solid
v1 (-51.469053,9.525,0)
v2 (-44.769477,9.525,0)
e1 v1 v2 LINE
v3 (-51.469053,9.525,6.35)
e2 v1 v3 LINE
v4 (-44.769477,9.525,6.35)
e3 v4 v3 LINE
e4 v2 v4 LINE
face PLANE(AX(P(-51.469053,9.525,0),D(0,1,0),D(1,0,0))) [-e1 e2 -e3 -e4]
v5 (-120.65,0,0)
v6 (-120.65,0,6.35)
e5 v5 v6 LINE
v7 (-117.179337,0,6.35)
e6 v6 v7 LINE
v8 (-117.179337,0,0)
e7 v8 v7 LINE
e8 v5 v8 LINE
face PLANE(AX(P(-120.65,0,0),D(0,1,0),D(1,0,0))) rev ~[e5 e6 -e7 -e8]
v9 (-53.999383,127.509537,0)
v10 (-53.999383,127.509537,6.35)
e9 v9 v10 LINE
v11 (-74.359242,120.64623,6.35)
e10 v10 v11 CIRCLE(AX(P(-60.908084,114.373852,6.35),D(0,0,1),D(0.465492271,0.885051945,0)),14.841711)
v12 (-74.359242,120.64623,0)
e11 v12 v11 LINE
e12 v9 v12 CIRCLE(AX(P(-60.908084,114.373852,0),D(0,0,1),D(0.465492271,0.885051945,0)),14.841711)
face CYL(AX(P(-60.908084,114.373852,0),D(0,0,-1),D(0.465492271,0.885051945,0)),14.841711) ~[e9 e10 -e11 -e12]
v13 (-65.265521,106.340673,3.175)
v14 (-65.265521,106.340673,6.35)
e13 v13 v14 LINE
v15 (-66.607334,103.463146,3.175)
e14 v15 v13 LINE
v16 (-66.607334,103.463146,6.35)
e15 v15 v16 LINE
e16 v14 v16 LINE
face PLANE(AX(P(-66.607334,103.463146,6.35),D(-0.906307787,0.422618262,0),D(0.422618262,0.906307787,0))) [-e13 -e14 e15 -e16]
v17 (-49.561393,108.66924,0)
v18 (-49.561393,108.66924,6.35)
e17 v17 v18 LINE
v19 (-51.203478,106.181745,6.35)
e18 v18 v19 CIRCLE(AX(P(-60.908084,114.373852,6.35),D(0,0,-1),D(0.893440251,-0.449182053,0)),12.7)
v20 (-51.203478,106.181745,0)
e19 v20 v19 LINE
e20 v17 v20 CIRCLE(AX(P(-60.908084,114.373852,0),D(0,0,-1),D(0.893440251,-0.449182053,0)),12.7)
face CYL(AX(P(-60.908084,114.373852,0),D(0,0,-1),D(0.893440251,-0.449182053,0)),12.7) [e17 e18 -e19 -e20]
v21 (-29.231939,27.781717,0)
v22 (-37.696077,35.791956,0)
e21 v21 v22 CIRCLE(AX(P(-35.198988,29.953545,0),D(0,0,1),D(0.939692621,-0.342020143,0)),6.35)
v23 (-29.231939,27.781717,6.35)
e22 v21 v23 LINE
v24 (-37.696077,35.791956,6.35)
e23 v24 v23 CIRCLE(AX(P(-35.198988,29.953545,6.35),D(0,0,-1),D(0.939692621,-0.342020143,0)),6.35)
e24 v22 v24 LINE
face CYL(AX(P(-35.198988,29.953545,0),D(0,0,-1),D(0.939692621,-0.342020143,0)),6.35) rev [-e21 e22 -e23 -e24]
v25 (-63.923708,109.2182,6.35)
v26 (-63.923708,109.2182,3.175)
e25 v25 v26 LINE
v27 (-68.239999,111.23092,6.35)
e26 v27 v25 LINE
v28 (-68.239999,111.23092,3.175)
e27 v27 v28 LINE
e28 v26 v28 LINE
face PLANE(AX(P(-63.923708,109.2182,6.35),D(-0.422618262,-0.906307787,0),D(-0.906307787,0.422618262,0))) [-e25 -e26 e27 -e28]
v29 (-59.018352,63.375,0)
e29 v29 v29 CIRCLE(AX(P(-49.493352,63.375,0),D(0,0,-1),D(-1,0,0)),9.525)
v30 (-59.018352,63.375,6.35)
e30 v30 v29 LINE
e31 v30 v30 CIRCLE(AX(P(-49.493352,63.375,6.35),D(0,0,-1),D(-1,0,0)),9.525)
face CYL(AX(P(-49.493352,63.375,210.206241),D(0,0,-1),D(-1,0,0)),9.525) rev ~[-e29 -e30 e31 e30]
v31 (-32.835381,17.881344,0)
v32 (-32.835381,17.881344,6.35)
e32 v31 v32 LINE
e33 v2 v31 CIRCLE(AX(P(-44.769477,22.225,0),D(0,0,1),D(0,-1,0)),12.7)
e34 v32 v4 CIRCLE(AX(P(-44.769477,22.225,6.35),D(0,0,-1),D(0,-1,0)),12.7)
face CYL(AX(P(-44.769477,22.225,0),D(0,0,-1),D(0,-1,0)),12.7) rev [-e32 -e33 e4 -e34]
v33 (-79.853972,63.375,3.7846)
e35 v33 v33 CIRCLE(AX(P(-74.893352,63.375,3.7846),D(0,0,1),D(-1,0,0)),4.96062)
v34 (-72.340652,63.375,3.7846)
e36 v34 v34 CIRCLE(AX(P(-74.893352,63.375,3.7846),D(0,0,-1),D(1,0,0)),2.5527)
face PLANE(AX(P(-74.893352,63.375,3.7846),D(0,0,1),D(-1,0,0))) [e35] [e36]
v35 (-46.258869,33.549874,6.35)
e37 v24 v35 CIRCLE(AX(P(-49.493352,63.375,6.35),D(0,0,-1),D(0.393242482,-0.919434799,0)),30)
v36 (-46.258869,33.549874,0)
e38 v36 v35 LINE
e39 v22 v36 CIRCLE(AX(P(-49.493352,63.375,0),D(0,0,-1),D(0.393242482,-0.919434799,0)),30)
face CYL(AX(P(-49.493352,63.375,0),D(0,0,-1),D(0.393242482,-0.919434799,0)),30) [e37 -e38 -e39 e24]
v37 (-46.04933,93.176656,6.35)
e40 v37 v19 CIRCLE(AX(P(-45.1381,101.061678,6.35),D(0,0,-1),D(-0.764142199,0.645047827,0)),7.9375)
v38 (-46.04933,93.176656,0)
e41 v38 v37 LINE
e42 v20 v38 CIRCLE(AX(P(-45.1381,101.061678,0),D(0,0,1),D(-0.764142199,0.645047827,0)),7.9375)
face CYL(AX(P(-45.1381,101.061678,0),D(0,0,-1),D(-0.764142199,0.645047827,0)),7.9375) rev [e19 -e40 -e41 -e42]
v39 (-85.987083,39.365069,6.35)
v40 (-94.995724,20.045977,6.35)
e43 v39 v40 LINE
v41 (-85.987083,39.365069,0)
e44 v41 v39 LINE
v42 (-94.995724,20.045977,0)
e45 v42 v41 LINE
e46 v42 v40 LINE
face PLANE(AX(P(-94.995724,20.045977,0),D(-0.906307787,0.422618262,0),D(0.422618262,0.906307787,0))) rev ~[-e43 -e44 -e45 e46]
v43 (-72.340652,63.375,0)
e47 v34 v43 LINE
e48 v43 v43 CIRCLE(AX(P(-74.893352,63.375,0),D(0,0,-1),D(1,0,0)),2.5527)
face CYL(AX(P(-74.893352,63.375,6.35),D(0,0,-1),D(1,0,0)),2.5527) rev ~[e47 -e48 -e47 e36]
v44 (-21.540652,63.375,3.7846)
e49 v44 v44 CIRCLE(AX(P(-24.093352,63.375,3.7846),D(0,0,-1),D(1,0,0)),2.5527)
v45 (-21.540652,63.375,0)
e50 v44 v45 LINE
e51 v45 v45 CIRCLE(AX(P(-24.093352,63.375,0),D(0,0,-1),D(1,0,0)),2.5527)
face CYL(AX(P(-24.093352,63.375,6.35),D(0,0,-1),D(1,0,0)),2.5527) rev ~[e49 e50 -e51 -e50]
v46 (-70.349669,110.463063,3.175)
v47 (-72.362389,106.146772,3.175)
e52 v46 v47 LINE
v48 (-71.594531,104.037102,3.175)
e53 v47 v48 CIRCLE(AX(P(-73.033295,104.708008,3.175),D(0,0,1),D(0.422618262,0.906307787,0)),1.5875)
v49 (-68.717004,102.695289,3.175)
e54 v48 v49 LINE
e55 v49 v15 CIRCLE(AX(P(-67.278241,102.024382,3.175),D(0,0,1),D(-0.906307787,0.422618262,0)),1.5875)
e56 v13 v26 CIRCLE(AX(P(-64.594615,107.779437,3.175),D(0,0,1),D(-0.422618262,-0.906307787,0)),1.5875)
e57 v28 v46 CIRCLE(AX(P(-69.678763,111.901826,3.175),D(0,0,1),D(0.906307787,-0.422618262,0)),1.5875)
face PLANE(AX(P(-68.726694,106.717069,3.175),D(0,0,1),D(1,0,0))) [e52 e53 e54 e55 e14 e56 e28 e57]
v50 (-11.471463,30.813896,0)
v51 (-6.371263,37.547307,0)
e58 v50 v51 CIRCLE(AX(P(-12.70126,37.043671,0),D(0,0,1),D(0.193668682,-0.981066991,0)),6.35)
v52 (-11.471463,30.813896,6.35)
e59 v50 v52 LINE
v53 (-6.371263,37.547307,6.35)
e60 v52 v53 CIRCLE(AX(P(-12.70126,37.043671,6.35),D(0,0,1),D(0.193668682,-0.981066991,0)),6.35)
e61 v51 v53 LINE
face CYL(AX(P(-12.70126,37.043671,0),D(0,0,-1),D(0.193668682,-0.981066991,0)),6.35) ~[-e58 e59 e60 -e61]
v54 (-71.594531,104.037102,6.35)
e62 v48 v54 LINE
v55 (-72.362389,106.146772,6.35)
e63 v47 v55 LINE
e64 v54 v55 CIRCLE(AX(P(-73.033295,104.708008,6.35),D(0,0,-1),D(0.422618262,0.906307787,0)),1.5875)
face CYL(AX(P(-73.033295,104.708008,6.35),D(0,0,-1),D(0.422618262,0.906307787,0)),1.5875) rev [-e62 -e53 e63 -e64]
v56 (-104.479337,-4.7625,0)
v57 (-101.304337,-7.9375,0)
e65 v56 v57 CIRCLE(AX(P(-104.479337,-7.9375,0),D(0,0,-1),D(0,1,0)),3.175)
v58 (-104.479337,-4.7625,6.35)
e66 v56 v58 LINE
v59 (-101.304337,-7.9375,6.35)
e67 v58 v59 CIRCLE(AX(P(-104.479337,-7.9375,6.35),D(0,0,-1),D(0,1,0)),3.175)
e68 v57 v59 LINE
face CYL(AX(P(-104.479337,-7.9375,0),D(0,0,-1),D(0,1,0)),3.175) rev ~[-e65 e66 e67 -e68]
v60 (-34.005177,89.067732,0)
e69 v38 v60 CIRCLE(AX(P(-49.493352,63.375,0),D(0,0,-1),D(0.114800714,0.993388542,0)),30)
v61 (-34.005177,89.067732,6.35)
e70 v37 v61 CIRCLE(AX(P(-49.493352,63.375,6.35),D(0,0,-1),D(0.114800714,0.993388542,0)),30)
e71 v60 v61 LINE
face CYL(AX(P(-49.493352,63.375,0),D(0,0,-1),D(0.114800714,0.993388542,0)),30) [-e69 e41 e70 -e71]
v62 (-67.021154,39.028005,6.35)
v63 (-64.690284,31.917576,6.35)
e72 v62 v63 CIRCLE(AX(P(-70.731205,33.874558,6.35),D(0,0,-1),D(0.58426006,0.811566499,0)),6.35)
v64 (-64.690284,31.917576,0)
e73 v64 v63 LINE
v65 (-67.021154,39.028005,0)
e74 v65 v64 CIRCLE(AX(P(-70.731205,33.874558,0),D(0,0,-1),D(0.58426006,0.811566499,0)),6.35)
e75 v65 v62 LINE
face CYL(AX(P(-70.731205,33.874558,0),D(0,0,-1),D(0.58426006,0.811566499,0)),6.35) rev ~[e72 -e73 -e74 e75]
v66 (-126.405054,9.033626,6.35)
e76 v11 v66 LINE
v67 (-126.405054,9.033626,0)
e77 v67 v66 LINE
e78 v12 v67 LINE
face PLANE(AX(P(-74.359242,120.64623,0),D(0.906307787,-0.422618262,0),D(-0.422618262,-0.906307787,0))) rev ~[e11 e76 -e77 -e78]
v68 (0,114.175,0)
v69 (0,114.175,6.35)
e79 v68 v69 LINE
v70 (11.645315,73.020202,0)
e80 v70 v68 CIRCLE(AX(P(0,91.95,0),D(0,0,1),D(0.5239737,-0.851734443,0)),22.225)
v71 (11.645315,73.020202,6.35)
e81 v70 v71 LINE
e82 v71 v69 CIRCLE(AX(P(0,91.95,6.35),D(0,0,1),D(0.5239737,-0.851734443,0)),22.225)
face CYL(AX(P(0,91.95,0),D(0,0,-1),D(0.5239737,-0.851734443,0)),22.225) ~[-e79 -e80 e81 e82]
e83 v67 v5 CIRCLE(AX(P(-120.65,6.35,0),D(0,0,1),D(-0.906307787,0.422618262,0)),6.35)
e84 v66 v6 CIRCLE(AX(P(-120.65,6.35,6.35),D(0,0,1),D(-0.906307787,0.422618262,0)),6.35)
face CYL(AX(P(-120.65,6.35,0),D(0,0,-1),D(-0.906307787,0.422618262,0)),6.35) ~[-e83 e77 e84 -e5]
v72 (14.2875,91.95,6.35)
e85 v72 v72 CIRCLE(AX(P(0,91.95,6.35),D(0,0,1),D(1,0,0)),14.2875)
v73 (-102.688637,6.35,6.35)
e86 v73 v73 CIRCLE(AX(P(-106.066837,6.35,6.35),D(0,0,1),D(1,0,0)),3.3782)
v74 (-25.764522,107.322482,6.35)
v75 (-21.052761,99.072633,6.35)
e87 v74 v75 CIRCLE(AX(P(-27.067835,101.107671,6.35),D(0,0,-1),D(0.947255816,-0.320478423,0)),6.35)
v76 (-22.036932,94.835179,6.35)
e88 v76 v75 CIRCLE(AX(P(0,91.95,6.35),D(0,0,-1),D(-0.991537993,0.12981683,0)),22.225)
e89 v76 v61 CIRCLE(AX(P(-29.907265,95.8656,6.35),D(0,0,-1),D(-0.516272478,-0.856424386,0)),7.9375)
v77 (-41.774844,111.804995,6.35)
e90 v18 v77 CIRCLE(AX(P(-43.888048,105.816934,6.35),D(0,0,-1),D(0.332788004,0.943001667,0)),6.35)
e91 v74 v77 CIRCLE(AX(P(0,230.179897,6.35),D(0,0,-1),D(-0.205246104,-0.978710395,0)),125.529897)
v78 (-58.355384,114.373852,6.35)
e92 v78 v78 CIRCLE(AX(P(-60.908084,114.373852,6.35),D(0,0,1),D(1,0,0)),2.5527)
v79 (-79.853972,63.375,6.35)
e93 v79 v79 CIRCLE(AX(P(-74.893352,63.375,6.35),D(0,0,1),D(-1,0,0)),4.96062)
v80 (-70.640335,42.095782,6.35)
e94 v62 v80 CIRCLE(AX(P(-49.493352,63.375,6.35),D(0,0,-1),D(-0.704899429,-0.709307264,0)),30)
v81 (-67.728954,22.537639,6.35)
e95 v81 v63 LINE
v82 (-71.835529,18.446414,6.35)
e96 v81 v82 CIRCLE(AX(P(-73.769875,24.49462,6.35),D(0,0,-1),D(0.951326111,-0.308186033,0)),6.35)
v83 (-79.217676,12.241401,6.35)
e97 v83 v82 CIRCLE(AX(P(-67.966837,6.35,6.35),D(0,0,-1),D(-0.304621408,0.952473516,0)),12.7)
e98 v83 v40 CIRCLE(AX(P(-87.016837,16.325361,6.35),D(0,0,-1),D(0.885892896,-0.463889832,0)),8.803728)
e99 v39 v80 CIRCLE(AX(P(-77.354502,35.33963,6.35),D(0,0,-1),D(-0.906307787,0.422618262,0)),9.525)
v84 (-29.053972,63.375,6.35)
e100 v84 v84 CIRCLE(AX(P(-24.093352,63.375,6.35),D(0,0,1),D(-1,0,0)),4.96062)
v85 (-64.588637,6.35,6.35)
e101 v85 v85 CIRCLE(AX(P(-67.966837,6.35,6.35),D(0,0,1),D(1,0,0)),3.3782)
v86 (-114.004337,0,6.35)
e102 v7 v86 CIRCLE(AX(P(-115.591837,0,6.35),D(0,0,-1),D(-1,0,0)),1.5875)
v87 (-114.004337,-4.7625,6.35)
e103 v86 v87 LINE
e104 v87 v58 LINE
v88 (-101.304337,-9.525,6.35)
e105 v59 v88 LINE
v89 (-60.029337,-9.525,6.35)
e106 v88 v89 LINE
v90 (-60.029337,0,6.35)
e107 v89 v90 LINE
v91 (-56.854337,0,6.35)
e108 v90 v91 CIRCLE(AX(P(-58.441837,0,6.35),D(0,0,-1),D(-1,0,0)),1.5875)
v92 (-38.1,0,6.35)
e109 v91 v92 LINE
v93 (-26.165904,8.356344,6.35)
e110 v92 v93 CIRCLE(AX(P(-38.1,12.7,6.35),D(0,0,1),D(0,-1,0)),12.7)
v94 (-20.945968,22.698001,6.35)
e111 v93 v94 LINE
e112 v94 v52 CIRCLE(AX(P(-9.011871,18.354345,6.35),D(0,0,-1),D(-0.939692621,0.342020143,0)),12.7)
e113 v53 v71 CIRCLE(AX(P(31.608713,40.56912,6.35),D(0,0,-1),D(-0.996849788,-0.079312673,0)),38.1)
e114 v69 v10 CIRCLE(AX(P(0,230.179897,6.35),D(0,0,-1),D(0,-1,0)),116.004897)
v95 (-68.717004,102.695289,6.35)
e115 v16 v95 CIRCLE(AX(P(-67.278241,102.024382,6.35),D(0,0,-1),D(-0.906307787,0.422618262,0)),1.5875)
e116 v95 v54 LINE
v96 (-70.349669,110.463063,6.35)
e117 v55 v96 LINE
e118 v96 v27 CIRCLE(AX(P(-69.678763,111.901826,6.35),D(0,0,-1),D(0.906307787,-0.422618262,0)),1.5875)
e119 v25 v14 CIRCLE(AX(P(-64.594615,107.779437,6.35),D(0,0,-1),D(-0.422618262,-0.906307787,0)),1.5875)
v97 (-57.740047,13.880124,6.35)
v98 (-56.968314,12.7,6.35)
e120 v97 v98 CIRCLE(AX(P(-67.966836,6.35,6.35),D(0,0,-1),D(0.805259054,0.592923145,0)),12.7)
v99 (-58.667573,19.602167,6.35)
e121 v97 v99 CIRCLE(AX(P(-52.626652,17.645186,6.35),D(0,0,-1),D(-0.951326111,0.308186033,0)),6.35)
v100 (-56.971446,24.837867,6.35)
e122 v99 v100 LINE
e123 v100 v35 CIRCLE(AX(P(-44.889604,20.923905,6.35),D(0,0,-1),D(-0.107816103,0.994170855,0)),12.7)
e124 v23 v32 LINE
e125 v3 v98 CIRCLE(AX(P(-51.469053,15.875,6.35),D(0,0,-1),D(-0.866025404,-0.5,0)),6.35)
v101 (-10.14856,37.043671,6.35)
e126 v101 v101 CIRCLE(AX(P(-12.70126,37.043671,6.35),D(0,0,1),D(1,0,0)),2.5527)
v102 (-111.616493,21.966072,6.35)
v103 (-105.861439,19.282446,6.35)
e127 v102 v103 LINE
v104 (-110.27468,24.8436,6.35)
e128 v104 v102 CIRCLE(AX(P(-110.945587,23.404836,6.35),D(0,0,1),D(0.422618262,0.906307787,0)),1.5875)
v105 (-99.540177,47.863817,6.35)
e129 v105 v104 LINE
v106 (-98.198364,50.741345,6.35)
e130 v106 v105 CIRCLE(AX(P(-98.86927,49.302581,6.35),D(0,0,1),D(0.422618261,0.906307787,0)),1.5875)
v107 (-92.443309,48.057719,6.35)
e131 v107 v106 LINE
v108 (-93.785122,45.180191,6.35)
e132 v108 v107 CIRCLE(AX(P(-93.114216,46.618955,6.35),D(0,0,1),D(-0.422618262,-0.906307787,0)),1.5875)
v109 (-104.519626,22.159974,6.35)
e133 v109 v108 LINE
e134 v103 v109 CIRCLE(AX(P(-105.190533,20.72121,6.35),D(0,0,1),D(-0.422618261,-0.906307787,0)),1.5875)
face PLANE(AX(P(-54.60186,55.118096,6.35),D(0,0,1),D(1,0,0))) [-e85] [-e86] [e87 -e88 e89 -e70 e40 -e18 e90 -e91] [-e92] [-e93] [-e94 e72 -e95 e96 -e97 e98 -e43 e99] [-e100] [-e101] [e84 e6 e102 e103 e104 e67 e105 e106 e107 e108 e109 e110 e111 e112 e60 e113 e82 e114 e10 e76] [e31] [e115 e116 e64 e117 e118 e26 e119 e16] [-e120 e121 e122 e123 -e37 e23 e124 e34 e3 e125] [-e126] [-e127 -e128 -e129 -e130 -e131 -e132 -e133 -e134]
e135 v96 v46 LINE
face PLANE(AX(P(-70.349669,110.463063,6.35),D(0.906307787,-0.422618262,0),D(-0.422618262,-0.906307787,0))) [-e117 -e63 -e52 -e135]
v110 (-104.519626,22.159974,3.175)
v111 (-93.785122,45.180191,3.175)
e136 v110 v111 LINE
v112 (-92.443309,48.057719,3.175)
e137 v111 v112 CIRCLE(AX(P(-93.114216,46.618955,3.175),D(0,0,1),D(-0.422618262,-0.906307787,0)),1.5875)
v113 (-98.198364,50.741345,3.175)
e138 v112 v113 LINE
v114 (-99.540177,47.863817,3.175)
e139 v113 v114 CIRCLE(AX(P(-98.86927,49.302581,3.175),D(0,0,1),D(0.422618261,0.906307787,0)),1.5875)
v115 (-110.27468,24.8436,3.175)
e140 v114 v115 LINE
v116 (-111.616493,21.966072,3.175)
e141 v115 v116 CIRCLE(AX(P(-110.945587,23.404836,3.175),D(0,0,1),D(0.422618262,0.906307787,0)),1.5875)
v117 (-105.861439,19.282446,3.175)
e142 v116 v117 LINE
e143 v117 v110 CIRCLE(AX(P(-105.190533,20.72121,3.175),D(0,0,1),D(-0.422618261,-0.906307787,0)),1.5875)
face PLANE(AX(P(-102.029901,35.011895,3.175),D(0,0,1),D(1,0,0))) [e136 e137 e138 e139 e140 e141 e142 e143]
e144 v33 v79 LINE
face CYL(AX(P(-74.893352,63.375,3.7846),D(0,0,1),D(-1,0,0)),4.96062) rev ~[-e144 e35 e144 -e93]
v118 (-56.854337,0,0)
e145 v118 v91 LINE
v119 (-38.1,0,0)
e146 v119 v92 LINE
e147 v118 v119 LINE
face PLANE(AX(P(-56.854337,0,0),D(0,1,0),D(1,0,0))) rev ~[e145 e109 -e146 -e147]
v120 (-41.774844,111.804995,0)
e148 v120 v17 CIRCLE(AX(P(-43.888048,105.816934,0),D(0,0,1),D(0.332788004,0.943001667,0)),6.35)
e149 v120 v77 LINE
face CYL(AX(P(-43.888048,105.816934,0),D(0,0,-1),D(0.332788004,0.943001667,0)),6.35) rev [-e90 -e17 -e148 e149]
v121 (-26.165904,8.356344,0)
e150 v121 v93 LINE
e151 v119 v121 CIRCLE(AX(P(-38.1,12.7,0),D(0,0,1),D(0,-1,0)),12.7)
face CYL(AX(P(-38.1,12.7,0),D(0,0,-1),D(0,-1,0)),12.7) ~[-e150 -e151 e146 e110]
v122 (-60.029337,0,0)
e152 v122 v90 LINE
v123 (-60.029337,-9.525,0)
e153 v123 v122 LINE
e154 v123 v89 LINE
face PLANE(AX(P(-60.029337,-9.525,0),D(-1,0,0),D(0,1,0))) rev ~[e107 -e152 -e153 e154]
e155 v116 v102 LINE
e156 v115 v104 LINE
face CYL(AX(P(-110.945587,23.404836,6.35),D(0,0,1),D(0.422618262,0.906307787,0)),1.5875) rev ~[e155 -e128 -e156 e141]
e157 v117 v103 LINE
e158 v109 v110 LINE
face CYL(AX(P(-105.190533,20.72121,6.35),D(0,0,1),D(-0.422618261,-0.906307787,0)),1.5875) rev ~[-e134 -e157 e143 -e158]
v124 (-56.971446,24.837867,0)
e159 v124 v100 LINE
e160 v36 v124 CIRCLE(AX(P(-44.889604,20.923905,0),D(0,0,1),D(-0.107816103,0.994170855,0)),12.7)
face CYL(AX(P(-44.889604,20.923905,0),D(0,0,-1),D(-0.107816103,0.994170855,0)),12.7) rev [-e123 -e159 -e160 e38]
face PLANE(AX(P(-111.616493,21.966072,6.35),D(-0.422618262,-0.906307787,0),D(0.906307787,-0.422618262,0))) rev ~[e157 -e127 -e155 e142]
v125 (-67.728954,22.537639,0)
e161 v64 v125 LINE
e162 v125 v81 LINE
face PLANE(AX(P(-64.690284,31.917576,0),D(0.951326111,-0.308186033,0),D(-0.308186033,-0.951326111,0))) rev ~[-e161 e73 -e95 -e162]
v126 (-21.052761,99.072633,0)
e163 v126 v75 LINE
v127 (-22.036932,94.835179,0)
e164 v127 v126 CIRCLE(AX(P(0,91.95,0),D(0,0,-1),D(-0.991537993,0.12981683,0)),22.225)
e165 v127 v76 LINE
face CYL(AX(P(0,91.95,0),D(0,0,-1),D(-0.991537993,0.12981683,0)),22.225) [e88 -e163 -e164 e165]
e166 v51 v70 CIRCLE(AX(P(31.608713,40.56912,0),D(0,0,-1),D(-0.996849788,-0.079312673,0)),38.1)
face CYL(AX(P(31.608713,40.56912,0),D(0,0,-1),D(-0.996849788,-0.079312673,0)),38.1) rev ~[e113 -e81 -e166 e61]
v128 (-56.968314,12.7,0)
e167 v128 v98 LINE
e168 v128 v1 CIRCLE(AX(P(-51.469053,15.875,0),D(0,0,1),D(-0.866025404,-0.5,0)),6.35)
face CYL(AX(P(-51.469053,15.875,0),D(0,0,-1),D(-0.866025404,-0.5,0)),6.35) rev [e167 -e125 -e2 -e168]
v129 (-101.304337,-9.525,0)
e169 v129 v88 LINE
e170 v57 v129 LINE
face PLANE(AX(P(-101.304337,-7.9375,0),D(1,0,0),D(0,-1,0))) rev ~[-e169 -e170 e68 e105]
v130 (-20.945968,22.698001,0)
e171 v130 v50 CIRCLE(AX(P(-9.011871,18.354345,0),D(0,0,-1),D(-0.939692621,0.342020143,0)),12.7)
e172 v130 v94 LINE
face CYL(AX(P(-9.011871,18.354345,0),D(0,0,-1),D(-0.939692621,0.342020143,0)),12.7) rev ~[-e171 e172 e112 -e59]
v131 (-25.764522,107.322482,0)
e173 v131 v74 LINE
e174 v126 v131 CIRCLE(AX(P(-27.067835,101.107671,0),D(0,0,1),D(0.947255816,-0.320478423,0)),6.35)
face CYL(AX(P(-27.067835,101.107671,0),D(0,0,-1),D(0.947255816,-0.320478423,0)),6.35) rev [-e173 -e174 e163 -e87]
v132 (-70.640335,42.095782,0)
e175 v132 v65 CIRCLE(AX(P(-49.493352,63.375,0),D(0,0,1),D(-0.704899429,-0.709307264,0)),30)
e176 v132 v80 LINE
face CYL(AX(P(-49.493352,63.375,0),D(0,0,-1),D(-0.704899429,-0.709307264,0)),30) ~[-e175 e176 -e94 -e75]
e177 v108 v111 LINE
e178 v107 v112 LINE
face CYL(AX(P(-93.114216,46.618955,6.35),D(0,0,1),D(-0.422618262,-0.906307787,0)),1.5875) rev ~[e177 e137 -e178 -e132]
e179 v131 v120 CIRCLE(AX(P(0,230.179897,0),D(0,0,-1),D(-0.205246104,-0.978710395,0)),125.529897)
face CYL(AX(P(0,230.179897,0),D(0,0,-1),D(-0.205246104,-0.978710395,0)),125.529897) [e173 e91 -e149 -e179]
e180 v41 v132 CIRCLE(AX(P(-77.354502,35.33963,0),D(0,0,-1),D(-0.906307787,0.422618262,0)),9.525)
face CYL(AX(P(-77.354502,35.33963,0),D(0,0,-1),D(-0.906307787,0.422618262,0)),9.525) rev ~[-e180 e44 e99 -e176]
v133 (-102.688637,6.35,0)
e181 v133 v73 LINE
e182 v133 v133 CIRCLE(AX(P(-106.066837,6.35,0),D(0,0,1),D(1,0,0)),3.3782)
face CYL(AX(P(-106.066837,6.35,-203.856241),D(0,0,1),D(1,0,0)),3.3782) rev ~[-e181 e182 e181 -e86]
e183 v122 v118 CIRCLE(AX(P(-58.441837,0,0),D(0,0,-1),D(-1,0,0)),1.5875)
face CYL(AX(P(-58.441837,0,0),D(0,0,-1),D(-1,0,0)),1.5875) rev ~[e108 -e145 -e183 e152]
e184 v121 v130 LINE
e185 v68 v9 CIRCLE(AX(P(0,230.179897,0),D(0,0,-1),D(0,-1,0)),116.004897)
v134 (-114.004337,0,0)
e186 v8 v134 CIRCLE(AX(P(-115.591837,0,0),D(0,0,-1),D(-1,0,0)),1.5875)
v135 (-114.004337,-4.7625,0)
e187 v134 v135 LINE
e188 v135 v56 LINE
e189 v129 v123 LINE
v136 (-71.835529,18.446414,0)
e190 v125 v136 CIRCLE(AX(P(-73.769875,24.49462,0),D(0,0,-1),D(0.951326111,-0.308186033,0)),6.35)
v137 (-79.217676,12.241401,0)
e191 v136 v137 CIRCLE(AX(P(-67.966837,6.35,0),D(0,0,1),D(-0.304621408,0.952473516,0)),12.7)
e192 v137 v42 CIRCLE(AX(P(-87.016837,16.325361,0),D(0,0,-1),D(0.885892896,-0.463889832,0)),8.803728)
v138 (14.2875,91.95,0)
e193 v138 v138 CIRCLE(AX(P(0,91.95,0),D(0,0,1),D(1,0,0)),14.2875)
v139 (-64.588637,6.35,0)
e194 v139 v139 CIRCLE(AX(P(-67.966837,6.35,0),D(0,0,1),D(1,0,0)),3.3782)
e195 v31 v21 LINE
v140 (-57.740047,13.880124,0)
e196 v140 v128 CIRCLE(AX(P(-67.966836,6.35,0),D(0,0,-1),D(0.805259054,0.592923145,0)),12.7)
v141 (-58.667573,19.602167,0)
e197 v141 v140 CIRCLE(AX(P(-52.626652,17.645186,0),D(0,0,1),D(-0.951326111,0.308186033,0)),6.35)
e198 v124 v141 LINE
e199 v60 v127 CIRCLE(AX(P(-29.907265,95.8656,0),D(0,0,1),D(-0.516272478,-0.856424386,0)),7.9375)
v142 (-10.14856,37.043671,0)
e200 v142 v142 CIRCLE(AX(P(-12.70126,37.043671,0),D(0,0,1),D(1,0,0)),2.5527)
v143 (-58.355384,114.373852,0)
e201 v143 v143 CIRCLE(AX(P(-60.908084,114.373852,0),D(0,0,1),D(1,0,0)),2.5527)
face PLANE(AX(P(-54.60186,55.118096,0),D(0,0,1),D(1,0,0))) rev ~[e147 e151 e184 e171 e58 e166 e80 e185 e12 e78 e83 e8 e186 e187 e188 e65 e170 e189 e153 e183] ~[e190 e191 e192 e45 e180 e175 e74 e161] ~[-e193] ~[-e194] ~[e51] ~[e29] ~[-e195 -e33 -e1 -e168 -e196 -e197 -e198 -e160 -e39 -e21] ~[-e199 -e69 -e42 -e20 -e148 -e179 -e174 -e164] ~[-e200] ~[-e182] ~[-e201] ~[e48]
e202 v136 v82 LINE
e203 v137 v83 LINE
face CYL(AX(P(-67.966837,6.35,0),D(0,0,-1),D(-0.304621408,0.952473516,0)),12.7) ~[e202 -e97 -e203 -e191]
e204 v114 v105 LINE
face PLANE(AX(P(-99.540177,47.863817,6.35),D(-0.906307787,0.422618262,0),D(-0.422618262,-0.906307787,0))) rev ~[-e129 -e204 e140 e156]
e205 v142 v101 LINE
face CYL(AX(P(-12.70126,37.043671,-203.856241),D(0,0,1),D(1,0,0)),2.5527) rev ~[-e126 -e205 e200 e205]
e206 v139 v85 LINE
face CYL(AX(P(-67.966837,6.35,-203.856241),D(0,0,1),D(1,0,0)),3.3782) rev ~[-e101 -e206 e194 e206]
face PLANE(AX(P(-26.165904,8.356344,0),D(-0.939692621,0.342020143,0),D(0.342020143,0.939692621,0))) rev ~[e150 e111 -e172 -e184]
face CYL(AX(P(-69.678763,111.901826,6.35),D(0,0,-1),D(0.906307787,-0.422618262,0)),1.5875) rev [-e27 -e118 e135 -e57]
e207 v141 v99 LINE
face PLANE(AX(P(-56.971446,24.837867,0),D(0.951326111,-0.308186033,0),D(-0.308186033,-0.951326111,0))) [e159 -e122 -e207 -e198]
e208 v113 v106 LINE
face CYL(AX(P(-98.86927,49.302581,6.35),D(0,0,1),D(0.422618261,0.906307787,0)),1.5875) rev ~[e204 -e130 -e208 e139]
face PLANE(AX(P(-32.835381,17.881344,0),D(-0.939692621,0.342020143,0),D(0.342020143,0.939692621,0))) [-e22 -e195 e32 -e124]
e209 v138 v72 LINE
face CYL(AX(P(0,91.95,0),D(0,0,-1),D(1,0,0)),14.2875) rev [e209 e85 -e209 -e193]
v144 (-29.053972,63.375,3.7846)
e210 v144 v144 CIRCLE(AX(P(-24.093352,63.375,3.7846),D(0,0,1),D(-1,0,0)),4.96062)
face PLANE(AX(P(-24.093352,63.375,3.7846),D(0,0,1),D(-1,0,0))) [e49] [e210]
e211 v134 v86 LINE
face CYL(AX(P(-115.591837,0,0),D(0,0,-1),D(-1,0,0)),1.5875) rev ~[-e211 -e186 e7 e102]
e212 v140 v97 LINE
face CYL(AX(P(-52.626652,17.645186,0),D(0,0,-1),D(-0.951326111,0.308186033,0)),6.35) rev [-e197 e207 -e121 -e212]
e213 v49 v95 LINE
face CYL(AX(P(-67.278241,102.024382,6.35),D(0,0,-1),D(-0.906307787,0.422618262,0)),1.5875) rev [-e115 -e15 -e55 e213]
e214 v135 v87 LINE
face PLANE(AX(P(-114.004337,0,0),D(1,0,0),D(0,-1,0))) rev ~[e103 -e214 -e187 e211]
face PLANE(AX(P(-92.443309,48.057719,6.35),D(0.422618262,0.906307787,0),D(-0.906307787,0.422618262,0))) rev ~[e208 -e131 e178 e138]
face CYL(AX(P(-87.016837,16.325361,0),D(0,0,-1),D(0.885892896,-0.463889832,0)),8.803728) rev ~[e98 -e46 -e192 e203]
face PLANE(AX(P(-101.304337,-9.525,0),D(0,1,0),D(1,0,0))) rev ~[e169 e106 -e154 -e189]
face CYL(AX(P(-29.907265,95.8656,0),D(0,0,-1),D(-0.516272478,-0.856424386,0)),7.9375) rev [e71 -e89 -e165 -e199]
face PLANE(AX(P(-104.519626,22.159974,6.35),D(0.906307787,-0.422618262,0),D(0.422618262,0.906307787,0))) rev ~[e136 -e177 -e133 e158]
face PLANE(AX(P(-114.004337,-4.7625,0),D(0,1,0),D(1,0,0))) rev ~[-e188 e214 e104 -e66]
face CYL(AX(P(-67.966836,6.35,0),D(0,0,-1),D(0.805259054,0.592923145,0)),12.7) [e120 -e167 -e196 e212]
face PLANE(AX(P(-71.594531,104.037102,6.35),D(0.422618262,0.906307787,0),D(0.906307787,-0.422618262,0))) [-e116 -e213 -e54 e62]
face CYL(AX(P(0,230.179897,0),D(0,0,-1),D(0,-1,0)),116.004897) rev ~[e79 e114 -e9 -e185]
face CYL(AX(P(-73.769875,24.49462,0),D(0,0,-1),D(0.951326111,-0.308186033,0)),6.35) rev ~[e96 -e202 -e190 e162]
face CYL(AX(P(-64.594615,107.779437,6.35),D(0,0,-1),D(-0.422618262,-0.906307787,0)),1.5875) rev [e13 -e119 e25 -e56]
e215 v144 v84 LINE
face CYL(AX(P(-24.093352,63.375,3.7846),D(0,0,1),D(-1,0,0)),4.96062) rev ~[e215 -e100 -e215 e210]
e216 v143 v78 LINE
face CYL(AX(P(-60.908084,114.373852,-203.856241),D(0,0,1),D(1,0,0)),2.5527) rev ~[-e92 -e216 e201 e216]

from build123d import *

# Parameters (mm, degrees)
SKETCH1_R                                       = 14.2875
BOSS_EXTRUDE1_DEPTH                             = 6.35
F_3_4_0_75_DIAMETER_HOLE1_D                     = 19.05
CBORE_FOR_10_BUTTON_HEAD_CAP_SCREW1_D           = 5.1054
CBORE_FOR_10_BUTTON_HEAD_CAP_SCREW1_CBORE_D     = 9.92124
CBORE_FOR_10_BUTTON_HEAD_CAP_SCREW1_CBORE_DEPTH = 2.5654
F_1_4_CLEARANCE_HOLE1_D                         = 6.7564
F_10_CLEARANCE_HOLE2_D                          = 5.1054
CUT_EXTRUDE2_DEPTH                              = 3.175
CUT_EXTRUDE3_DEPTH                              = 182.28977969


with BuildPart() as part:
    # Sketch1 → Boss-Extrude1 (new body)
    with BuildSketch(Plane.XY):
        with BuildLine():
            Line((-120.65, 0), (-117.17933671, 0))
            ThreePointArc((-117.17933671, 0), (-115.59183671, 1.5875), (-114.00433671, 0))
            Line((-114.00433671, 0), (-114.00433671, -4.7625))
            Line((-114.00433671, -4.7625), (-104.47933671, -4.7625))
            ThreePointArc((-104.47933671, -4.7625), (-102.234272679, -5.69243597), (-101.30433671, -7.9375))
            Line((-101.30433671, -7.9375), (-101.30433671, -9.525))
            Line((-101.30433671, -9.525), (-60.02933671, -9.525))
            Line((-60.02933671, -9.525), (-60.02933671, 0))
            ThreePointArc((-60.02933671, 0), (-58.44183671, 1.5875), (-56.85433671, 0))
            Line((-56.85433671, 0), (-38.1, 0))
            ThreePointArc((-38.1, 0), (-30.815579258, 2.296769038), (-26.165903716, 8.35634418))
            Line((-26.165903716, 8.35634418), (-20.945967504, 22.698001054))
            ThreePointArc((-20.945967504, 22.698001054), (-17.273923344, 27.999473263), (-11.471463484, 30.813896024))
            ThreePointArc((-11.471463484, 30.813896024), (-7.639410119, 33.209590086), (-6.371263462, 37.547306891))
            ThreePointArc((-6.371263462, 37.547306891), (-2.360982527, 57.822228263), (11.645315486, 73.020202003))
            ThreePointArc((11.645315486, 73.020202003), (21.385338266, 98.001275259), (0, 114.175))
            ThreePointArc((0, 114.175), (-27.81071387, 117.557961662), (-53.999382782, 127.509537225))
            ThreePointArc((-53.999382782, 127.509537225), (-65.649094725, 128.437962549), (-74.359242294, 120.64623031))
            Line((-74.359242294, 120.64623031), (-126.405054448, 9.033625962))
            ThreePointArc((-126.405054448, 9.033625962), (-126.005535681, 2.938147487), (-120.65, 0))
        make_face()
        with Locations((0, 91.95)):
            Circle(SKETCH1_R, mode=Mode.SUBTRACT)
    extrude(amount=BOSS_EXTRUDE1_DEPTH)

    # 3/4 (0.75) Diameter Hole1 (through all)
    with Locations(Plane.XY.offset(6.35)):
        with Locations((-49.493351826, 63.375)):
            Hole(F_3_4_0_75_DIAMETER_HOLE1_D / 2)

    # CBORE for #10 Button Head Cap Screw1 (through all)
    with Locations(Plane(origin=(0, 0, 6.35), x_dir=(-1, 0, 0), z_dir=(0, 0, 1))):
        with Locations((24.093351826, -63.375), (74.893351826, -63.375)):
            CounterBoreHole(CBORE_FOR_10_BUTTON_HEAD_CAP_SCREW1_D / 2, CBORE_FOR_10_BUTTON_HEAD_CAP_SCREW1_CBORE_D / 2, CBORE_FOR_10_BUTTON_HEAD_CAP_SCREW1_CBORE_DEPTH)

    # 1/4 Clearance Hole1 (through all)
    with Locations(Plane(origin=(0, 0, 0), x_dir=(-1, 0, 0), z_dir=(0, 0, -1))):
        with Locations((67.96683671, 6.35), (106.06683671, 6.35)):
            Hole(F_1_4_CLEARANCE_HOLE1_D / 2)

    # #10 Clearance Hole2 (through all)
    with Locations(Plane(origin=(0, 0, 0), x_dir=(-1, 0, 0), z_dir=(0, 0, -1))):
        with Locations((60.908084373, 114.37385236), (12.701259616, 37.043671419)):
            Hole(F_10_CLEARANCE_HOLE2_D / 2)

    # Sketch20 → Cut-Extrude2 (cut, symmetric)
    with BuildSketch(Plane(origin=(0, 0, 6.35), x_dir=(-1, 0, 0), z_dir=(0, 0, -1))):
        with BuildLine():
            Line((92.44330918, 48.057718602), (98.198363628, 50.741344564))
            ThreePointArc((98.198363628, 50.741344564), (100.30803373, 49.973487442), (99.540176609, 47.86381734))
            Line((99.540176609, 47.86381734), (110.274680457, 24.843599549))
            ThreePointArc((110.274680457, 24.843599549), (112.384350559, 24.075742428), (111.616493438, 21.966072325))
            Line((111.616493438, 21.966072325), (105.86143899, 19.282446363))
            ThreePointArc((105.86143899, 19.282446363), (103.751768888, 20.050303485), (104.519626009, 22.159973587))
            Line((104.519626009, 22.159973587), (93.785122161, 45.180191378))
            ThreePointArc((93.785122161, 45.180191378), (91.675452059, 45.948048499), (92.44330918, 48.057718602))
        make_face()
        with BuildLine():
            Line((70.34966907, 110.463062771), (72.362388541, 106.146771935))
            ThreePointArc((72.362388541, 106.146771935), (74.525057067, 104.165051345), (71.59453142, 104.037101832))
            Line((71.59453142, 104.037101832), (68.717004196, 102.695288851))
            ThreePointArc((68.717004196, 102.695288851), (66.735283607, 100.532620325), (66.607334094, 103.463145973))
            Line((66.607334094, 103.463145973), (65.265521113, 106.340673197))
            ThreePointArc((65.265521113, 106.340673197), (63.15585101, 107.108530318), (63.923708132, 109.21820042))
            Line((63.923708132, 109.21820042), (68.239998967, 111.230919892))
            ThreePointArc((68.239998967, 111.230919892), (70.221719557, 113.393588418), (70.34966907, 110.463062771))
        make_face()
    extrude(amount=CUT_EXTRUDE2_DEPTH, both=True, mode=Mode.SUBTRACT)

    # Sketch21 → Cut-Extrude3 (cut, through all)
    with BuildSketch(Plane(origin=(0, 0, 0), x_dir=(-1, 0, 0), z_dir=(0, 0, -1))):
        with BuildLine():
            Line((94.995724075, 20.045977116), (85.987083429, 39.365069327))
            ThreePointArc((85.987083429, 39.365069327), (79.023116956, 44.717335237), (70.640334696, 42.095782075))
            ThreePointArc((70.640334696, 42.095782075), (68.891484629, 40.490235554), (67.021153622, 39.028005027))
            ThreePointArc((67.021153622, 39.028005027), (64.697142252, 35.852583725), (64.690284199, 31.917576449))
            Line((64.690284199, 31.917576449), (67.728953723, 22.537639163))
            ThreePointArc((67.728953723, 22.537639163), (69.288161522, 19.996093098), (71.835528588, 18.446413648))
            ThreePointArc((71.835528588, 18.446413648), (76.138470899, 16.071851402), (79.217676493, 12.241400867))
            ThreePointArc((79.217676493, 12.241400867), (90.920159406, 8.434245512), (94.995724075, 20.045977116))
        make_face()
        with BuildLine():
            Line((51.469052768, 9.525), (44.769476801, 9.525))
            ThreePointArc((44.769476801, 9.525), (37.48505606, 11.821769038), (32.835380517, 17.88134418))
            Line((32.835380517, 17.88134418), (29.231939453, 27.781717136))
            ThreePointArc((29.231939453, 27.781717136), (30.834227059, 34.565634102), (37.696077358, 35.791956022))
            ThreePointArc((37.696077358, 35.791956022), (41.894327789, 34.353373001), (46.258868743, 33.549874364))
            ThreePointArc((46.258868743, 33.549874364), (52.902583174, 30.776932908), (56.971445845, 24.83786713))
            Line((56.971445845, 24.83786713), (58.667572518, 19.6021672))
            ThreePointArc((58.667572518, 19.6021672), (58.894836065, 16.629132278), (57.740046713, 13.880123927))
            ThreePointArc((57.740046713, 13.880123927), (57.33778938, 13.300780738), (56.968314082, 12.7))
            ThreePointArc((56.968314082, 12.7), (54.644052768, 10.375738686), (51.469052768, 9.525))
        make_face()
        with BuildLine():
            ThreePointArc((46.049330406, 93.17665627), (39.806875451, 91.768171282), (34.005177492, 89.067731575))
            ThreePointArc((34.005177492, 89.067731575), (26.46144828, 88.715057819), (22.036931884, 94.835179049))
            ThreePointArc((22.036931884, 94.835179049), (21.648773671, 96.978043711), (21.052760506, 99.072632947))
            ThreePointArc((21.052760506, 99.072632947), (21.553789247, 104.256924834), (25.764522177, 107.322481938))
            ThreePointArc((25.764522177, 107.322481938), (33.843976098, 109.298383447), (41.774843757, 111.804994829))
            ThreePointArc((41.774843757, 111.804994829), (46.260154558, 111.70723207), (49.56139318, 108.669240282))
            ThreePointArc((49.56139318, 108.669240282), (50.30920774, 107.37715213), (51.203478444, 106.181744954))
            ThreePointArc((51.203478444, 106.181744954), (52.517215708, 98.137202873), (46.049330406, 93.17665627))
        make_face()
    extrude(amount=-CUT_EXTRUDE3_DEPTH, mode=Mode.SUBTRACT)


solid = part.part
